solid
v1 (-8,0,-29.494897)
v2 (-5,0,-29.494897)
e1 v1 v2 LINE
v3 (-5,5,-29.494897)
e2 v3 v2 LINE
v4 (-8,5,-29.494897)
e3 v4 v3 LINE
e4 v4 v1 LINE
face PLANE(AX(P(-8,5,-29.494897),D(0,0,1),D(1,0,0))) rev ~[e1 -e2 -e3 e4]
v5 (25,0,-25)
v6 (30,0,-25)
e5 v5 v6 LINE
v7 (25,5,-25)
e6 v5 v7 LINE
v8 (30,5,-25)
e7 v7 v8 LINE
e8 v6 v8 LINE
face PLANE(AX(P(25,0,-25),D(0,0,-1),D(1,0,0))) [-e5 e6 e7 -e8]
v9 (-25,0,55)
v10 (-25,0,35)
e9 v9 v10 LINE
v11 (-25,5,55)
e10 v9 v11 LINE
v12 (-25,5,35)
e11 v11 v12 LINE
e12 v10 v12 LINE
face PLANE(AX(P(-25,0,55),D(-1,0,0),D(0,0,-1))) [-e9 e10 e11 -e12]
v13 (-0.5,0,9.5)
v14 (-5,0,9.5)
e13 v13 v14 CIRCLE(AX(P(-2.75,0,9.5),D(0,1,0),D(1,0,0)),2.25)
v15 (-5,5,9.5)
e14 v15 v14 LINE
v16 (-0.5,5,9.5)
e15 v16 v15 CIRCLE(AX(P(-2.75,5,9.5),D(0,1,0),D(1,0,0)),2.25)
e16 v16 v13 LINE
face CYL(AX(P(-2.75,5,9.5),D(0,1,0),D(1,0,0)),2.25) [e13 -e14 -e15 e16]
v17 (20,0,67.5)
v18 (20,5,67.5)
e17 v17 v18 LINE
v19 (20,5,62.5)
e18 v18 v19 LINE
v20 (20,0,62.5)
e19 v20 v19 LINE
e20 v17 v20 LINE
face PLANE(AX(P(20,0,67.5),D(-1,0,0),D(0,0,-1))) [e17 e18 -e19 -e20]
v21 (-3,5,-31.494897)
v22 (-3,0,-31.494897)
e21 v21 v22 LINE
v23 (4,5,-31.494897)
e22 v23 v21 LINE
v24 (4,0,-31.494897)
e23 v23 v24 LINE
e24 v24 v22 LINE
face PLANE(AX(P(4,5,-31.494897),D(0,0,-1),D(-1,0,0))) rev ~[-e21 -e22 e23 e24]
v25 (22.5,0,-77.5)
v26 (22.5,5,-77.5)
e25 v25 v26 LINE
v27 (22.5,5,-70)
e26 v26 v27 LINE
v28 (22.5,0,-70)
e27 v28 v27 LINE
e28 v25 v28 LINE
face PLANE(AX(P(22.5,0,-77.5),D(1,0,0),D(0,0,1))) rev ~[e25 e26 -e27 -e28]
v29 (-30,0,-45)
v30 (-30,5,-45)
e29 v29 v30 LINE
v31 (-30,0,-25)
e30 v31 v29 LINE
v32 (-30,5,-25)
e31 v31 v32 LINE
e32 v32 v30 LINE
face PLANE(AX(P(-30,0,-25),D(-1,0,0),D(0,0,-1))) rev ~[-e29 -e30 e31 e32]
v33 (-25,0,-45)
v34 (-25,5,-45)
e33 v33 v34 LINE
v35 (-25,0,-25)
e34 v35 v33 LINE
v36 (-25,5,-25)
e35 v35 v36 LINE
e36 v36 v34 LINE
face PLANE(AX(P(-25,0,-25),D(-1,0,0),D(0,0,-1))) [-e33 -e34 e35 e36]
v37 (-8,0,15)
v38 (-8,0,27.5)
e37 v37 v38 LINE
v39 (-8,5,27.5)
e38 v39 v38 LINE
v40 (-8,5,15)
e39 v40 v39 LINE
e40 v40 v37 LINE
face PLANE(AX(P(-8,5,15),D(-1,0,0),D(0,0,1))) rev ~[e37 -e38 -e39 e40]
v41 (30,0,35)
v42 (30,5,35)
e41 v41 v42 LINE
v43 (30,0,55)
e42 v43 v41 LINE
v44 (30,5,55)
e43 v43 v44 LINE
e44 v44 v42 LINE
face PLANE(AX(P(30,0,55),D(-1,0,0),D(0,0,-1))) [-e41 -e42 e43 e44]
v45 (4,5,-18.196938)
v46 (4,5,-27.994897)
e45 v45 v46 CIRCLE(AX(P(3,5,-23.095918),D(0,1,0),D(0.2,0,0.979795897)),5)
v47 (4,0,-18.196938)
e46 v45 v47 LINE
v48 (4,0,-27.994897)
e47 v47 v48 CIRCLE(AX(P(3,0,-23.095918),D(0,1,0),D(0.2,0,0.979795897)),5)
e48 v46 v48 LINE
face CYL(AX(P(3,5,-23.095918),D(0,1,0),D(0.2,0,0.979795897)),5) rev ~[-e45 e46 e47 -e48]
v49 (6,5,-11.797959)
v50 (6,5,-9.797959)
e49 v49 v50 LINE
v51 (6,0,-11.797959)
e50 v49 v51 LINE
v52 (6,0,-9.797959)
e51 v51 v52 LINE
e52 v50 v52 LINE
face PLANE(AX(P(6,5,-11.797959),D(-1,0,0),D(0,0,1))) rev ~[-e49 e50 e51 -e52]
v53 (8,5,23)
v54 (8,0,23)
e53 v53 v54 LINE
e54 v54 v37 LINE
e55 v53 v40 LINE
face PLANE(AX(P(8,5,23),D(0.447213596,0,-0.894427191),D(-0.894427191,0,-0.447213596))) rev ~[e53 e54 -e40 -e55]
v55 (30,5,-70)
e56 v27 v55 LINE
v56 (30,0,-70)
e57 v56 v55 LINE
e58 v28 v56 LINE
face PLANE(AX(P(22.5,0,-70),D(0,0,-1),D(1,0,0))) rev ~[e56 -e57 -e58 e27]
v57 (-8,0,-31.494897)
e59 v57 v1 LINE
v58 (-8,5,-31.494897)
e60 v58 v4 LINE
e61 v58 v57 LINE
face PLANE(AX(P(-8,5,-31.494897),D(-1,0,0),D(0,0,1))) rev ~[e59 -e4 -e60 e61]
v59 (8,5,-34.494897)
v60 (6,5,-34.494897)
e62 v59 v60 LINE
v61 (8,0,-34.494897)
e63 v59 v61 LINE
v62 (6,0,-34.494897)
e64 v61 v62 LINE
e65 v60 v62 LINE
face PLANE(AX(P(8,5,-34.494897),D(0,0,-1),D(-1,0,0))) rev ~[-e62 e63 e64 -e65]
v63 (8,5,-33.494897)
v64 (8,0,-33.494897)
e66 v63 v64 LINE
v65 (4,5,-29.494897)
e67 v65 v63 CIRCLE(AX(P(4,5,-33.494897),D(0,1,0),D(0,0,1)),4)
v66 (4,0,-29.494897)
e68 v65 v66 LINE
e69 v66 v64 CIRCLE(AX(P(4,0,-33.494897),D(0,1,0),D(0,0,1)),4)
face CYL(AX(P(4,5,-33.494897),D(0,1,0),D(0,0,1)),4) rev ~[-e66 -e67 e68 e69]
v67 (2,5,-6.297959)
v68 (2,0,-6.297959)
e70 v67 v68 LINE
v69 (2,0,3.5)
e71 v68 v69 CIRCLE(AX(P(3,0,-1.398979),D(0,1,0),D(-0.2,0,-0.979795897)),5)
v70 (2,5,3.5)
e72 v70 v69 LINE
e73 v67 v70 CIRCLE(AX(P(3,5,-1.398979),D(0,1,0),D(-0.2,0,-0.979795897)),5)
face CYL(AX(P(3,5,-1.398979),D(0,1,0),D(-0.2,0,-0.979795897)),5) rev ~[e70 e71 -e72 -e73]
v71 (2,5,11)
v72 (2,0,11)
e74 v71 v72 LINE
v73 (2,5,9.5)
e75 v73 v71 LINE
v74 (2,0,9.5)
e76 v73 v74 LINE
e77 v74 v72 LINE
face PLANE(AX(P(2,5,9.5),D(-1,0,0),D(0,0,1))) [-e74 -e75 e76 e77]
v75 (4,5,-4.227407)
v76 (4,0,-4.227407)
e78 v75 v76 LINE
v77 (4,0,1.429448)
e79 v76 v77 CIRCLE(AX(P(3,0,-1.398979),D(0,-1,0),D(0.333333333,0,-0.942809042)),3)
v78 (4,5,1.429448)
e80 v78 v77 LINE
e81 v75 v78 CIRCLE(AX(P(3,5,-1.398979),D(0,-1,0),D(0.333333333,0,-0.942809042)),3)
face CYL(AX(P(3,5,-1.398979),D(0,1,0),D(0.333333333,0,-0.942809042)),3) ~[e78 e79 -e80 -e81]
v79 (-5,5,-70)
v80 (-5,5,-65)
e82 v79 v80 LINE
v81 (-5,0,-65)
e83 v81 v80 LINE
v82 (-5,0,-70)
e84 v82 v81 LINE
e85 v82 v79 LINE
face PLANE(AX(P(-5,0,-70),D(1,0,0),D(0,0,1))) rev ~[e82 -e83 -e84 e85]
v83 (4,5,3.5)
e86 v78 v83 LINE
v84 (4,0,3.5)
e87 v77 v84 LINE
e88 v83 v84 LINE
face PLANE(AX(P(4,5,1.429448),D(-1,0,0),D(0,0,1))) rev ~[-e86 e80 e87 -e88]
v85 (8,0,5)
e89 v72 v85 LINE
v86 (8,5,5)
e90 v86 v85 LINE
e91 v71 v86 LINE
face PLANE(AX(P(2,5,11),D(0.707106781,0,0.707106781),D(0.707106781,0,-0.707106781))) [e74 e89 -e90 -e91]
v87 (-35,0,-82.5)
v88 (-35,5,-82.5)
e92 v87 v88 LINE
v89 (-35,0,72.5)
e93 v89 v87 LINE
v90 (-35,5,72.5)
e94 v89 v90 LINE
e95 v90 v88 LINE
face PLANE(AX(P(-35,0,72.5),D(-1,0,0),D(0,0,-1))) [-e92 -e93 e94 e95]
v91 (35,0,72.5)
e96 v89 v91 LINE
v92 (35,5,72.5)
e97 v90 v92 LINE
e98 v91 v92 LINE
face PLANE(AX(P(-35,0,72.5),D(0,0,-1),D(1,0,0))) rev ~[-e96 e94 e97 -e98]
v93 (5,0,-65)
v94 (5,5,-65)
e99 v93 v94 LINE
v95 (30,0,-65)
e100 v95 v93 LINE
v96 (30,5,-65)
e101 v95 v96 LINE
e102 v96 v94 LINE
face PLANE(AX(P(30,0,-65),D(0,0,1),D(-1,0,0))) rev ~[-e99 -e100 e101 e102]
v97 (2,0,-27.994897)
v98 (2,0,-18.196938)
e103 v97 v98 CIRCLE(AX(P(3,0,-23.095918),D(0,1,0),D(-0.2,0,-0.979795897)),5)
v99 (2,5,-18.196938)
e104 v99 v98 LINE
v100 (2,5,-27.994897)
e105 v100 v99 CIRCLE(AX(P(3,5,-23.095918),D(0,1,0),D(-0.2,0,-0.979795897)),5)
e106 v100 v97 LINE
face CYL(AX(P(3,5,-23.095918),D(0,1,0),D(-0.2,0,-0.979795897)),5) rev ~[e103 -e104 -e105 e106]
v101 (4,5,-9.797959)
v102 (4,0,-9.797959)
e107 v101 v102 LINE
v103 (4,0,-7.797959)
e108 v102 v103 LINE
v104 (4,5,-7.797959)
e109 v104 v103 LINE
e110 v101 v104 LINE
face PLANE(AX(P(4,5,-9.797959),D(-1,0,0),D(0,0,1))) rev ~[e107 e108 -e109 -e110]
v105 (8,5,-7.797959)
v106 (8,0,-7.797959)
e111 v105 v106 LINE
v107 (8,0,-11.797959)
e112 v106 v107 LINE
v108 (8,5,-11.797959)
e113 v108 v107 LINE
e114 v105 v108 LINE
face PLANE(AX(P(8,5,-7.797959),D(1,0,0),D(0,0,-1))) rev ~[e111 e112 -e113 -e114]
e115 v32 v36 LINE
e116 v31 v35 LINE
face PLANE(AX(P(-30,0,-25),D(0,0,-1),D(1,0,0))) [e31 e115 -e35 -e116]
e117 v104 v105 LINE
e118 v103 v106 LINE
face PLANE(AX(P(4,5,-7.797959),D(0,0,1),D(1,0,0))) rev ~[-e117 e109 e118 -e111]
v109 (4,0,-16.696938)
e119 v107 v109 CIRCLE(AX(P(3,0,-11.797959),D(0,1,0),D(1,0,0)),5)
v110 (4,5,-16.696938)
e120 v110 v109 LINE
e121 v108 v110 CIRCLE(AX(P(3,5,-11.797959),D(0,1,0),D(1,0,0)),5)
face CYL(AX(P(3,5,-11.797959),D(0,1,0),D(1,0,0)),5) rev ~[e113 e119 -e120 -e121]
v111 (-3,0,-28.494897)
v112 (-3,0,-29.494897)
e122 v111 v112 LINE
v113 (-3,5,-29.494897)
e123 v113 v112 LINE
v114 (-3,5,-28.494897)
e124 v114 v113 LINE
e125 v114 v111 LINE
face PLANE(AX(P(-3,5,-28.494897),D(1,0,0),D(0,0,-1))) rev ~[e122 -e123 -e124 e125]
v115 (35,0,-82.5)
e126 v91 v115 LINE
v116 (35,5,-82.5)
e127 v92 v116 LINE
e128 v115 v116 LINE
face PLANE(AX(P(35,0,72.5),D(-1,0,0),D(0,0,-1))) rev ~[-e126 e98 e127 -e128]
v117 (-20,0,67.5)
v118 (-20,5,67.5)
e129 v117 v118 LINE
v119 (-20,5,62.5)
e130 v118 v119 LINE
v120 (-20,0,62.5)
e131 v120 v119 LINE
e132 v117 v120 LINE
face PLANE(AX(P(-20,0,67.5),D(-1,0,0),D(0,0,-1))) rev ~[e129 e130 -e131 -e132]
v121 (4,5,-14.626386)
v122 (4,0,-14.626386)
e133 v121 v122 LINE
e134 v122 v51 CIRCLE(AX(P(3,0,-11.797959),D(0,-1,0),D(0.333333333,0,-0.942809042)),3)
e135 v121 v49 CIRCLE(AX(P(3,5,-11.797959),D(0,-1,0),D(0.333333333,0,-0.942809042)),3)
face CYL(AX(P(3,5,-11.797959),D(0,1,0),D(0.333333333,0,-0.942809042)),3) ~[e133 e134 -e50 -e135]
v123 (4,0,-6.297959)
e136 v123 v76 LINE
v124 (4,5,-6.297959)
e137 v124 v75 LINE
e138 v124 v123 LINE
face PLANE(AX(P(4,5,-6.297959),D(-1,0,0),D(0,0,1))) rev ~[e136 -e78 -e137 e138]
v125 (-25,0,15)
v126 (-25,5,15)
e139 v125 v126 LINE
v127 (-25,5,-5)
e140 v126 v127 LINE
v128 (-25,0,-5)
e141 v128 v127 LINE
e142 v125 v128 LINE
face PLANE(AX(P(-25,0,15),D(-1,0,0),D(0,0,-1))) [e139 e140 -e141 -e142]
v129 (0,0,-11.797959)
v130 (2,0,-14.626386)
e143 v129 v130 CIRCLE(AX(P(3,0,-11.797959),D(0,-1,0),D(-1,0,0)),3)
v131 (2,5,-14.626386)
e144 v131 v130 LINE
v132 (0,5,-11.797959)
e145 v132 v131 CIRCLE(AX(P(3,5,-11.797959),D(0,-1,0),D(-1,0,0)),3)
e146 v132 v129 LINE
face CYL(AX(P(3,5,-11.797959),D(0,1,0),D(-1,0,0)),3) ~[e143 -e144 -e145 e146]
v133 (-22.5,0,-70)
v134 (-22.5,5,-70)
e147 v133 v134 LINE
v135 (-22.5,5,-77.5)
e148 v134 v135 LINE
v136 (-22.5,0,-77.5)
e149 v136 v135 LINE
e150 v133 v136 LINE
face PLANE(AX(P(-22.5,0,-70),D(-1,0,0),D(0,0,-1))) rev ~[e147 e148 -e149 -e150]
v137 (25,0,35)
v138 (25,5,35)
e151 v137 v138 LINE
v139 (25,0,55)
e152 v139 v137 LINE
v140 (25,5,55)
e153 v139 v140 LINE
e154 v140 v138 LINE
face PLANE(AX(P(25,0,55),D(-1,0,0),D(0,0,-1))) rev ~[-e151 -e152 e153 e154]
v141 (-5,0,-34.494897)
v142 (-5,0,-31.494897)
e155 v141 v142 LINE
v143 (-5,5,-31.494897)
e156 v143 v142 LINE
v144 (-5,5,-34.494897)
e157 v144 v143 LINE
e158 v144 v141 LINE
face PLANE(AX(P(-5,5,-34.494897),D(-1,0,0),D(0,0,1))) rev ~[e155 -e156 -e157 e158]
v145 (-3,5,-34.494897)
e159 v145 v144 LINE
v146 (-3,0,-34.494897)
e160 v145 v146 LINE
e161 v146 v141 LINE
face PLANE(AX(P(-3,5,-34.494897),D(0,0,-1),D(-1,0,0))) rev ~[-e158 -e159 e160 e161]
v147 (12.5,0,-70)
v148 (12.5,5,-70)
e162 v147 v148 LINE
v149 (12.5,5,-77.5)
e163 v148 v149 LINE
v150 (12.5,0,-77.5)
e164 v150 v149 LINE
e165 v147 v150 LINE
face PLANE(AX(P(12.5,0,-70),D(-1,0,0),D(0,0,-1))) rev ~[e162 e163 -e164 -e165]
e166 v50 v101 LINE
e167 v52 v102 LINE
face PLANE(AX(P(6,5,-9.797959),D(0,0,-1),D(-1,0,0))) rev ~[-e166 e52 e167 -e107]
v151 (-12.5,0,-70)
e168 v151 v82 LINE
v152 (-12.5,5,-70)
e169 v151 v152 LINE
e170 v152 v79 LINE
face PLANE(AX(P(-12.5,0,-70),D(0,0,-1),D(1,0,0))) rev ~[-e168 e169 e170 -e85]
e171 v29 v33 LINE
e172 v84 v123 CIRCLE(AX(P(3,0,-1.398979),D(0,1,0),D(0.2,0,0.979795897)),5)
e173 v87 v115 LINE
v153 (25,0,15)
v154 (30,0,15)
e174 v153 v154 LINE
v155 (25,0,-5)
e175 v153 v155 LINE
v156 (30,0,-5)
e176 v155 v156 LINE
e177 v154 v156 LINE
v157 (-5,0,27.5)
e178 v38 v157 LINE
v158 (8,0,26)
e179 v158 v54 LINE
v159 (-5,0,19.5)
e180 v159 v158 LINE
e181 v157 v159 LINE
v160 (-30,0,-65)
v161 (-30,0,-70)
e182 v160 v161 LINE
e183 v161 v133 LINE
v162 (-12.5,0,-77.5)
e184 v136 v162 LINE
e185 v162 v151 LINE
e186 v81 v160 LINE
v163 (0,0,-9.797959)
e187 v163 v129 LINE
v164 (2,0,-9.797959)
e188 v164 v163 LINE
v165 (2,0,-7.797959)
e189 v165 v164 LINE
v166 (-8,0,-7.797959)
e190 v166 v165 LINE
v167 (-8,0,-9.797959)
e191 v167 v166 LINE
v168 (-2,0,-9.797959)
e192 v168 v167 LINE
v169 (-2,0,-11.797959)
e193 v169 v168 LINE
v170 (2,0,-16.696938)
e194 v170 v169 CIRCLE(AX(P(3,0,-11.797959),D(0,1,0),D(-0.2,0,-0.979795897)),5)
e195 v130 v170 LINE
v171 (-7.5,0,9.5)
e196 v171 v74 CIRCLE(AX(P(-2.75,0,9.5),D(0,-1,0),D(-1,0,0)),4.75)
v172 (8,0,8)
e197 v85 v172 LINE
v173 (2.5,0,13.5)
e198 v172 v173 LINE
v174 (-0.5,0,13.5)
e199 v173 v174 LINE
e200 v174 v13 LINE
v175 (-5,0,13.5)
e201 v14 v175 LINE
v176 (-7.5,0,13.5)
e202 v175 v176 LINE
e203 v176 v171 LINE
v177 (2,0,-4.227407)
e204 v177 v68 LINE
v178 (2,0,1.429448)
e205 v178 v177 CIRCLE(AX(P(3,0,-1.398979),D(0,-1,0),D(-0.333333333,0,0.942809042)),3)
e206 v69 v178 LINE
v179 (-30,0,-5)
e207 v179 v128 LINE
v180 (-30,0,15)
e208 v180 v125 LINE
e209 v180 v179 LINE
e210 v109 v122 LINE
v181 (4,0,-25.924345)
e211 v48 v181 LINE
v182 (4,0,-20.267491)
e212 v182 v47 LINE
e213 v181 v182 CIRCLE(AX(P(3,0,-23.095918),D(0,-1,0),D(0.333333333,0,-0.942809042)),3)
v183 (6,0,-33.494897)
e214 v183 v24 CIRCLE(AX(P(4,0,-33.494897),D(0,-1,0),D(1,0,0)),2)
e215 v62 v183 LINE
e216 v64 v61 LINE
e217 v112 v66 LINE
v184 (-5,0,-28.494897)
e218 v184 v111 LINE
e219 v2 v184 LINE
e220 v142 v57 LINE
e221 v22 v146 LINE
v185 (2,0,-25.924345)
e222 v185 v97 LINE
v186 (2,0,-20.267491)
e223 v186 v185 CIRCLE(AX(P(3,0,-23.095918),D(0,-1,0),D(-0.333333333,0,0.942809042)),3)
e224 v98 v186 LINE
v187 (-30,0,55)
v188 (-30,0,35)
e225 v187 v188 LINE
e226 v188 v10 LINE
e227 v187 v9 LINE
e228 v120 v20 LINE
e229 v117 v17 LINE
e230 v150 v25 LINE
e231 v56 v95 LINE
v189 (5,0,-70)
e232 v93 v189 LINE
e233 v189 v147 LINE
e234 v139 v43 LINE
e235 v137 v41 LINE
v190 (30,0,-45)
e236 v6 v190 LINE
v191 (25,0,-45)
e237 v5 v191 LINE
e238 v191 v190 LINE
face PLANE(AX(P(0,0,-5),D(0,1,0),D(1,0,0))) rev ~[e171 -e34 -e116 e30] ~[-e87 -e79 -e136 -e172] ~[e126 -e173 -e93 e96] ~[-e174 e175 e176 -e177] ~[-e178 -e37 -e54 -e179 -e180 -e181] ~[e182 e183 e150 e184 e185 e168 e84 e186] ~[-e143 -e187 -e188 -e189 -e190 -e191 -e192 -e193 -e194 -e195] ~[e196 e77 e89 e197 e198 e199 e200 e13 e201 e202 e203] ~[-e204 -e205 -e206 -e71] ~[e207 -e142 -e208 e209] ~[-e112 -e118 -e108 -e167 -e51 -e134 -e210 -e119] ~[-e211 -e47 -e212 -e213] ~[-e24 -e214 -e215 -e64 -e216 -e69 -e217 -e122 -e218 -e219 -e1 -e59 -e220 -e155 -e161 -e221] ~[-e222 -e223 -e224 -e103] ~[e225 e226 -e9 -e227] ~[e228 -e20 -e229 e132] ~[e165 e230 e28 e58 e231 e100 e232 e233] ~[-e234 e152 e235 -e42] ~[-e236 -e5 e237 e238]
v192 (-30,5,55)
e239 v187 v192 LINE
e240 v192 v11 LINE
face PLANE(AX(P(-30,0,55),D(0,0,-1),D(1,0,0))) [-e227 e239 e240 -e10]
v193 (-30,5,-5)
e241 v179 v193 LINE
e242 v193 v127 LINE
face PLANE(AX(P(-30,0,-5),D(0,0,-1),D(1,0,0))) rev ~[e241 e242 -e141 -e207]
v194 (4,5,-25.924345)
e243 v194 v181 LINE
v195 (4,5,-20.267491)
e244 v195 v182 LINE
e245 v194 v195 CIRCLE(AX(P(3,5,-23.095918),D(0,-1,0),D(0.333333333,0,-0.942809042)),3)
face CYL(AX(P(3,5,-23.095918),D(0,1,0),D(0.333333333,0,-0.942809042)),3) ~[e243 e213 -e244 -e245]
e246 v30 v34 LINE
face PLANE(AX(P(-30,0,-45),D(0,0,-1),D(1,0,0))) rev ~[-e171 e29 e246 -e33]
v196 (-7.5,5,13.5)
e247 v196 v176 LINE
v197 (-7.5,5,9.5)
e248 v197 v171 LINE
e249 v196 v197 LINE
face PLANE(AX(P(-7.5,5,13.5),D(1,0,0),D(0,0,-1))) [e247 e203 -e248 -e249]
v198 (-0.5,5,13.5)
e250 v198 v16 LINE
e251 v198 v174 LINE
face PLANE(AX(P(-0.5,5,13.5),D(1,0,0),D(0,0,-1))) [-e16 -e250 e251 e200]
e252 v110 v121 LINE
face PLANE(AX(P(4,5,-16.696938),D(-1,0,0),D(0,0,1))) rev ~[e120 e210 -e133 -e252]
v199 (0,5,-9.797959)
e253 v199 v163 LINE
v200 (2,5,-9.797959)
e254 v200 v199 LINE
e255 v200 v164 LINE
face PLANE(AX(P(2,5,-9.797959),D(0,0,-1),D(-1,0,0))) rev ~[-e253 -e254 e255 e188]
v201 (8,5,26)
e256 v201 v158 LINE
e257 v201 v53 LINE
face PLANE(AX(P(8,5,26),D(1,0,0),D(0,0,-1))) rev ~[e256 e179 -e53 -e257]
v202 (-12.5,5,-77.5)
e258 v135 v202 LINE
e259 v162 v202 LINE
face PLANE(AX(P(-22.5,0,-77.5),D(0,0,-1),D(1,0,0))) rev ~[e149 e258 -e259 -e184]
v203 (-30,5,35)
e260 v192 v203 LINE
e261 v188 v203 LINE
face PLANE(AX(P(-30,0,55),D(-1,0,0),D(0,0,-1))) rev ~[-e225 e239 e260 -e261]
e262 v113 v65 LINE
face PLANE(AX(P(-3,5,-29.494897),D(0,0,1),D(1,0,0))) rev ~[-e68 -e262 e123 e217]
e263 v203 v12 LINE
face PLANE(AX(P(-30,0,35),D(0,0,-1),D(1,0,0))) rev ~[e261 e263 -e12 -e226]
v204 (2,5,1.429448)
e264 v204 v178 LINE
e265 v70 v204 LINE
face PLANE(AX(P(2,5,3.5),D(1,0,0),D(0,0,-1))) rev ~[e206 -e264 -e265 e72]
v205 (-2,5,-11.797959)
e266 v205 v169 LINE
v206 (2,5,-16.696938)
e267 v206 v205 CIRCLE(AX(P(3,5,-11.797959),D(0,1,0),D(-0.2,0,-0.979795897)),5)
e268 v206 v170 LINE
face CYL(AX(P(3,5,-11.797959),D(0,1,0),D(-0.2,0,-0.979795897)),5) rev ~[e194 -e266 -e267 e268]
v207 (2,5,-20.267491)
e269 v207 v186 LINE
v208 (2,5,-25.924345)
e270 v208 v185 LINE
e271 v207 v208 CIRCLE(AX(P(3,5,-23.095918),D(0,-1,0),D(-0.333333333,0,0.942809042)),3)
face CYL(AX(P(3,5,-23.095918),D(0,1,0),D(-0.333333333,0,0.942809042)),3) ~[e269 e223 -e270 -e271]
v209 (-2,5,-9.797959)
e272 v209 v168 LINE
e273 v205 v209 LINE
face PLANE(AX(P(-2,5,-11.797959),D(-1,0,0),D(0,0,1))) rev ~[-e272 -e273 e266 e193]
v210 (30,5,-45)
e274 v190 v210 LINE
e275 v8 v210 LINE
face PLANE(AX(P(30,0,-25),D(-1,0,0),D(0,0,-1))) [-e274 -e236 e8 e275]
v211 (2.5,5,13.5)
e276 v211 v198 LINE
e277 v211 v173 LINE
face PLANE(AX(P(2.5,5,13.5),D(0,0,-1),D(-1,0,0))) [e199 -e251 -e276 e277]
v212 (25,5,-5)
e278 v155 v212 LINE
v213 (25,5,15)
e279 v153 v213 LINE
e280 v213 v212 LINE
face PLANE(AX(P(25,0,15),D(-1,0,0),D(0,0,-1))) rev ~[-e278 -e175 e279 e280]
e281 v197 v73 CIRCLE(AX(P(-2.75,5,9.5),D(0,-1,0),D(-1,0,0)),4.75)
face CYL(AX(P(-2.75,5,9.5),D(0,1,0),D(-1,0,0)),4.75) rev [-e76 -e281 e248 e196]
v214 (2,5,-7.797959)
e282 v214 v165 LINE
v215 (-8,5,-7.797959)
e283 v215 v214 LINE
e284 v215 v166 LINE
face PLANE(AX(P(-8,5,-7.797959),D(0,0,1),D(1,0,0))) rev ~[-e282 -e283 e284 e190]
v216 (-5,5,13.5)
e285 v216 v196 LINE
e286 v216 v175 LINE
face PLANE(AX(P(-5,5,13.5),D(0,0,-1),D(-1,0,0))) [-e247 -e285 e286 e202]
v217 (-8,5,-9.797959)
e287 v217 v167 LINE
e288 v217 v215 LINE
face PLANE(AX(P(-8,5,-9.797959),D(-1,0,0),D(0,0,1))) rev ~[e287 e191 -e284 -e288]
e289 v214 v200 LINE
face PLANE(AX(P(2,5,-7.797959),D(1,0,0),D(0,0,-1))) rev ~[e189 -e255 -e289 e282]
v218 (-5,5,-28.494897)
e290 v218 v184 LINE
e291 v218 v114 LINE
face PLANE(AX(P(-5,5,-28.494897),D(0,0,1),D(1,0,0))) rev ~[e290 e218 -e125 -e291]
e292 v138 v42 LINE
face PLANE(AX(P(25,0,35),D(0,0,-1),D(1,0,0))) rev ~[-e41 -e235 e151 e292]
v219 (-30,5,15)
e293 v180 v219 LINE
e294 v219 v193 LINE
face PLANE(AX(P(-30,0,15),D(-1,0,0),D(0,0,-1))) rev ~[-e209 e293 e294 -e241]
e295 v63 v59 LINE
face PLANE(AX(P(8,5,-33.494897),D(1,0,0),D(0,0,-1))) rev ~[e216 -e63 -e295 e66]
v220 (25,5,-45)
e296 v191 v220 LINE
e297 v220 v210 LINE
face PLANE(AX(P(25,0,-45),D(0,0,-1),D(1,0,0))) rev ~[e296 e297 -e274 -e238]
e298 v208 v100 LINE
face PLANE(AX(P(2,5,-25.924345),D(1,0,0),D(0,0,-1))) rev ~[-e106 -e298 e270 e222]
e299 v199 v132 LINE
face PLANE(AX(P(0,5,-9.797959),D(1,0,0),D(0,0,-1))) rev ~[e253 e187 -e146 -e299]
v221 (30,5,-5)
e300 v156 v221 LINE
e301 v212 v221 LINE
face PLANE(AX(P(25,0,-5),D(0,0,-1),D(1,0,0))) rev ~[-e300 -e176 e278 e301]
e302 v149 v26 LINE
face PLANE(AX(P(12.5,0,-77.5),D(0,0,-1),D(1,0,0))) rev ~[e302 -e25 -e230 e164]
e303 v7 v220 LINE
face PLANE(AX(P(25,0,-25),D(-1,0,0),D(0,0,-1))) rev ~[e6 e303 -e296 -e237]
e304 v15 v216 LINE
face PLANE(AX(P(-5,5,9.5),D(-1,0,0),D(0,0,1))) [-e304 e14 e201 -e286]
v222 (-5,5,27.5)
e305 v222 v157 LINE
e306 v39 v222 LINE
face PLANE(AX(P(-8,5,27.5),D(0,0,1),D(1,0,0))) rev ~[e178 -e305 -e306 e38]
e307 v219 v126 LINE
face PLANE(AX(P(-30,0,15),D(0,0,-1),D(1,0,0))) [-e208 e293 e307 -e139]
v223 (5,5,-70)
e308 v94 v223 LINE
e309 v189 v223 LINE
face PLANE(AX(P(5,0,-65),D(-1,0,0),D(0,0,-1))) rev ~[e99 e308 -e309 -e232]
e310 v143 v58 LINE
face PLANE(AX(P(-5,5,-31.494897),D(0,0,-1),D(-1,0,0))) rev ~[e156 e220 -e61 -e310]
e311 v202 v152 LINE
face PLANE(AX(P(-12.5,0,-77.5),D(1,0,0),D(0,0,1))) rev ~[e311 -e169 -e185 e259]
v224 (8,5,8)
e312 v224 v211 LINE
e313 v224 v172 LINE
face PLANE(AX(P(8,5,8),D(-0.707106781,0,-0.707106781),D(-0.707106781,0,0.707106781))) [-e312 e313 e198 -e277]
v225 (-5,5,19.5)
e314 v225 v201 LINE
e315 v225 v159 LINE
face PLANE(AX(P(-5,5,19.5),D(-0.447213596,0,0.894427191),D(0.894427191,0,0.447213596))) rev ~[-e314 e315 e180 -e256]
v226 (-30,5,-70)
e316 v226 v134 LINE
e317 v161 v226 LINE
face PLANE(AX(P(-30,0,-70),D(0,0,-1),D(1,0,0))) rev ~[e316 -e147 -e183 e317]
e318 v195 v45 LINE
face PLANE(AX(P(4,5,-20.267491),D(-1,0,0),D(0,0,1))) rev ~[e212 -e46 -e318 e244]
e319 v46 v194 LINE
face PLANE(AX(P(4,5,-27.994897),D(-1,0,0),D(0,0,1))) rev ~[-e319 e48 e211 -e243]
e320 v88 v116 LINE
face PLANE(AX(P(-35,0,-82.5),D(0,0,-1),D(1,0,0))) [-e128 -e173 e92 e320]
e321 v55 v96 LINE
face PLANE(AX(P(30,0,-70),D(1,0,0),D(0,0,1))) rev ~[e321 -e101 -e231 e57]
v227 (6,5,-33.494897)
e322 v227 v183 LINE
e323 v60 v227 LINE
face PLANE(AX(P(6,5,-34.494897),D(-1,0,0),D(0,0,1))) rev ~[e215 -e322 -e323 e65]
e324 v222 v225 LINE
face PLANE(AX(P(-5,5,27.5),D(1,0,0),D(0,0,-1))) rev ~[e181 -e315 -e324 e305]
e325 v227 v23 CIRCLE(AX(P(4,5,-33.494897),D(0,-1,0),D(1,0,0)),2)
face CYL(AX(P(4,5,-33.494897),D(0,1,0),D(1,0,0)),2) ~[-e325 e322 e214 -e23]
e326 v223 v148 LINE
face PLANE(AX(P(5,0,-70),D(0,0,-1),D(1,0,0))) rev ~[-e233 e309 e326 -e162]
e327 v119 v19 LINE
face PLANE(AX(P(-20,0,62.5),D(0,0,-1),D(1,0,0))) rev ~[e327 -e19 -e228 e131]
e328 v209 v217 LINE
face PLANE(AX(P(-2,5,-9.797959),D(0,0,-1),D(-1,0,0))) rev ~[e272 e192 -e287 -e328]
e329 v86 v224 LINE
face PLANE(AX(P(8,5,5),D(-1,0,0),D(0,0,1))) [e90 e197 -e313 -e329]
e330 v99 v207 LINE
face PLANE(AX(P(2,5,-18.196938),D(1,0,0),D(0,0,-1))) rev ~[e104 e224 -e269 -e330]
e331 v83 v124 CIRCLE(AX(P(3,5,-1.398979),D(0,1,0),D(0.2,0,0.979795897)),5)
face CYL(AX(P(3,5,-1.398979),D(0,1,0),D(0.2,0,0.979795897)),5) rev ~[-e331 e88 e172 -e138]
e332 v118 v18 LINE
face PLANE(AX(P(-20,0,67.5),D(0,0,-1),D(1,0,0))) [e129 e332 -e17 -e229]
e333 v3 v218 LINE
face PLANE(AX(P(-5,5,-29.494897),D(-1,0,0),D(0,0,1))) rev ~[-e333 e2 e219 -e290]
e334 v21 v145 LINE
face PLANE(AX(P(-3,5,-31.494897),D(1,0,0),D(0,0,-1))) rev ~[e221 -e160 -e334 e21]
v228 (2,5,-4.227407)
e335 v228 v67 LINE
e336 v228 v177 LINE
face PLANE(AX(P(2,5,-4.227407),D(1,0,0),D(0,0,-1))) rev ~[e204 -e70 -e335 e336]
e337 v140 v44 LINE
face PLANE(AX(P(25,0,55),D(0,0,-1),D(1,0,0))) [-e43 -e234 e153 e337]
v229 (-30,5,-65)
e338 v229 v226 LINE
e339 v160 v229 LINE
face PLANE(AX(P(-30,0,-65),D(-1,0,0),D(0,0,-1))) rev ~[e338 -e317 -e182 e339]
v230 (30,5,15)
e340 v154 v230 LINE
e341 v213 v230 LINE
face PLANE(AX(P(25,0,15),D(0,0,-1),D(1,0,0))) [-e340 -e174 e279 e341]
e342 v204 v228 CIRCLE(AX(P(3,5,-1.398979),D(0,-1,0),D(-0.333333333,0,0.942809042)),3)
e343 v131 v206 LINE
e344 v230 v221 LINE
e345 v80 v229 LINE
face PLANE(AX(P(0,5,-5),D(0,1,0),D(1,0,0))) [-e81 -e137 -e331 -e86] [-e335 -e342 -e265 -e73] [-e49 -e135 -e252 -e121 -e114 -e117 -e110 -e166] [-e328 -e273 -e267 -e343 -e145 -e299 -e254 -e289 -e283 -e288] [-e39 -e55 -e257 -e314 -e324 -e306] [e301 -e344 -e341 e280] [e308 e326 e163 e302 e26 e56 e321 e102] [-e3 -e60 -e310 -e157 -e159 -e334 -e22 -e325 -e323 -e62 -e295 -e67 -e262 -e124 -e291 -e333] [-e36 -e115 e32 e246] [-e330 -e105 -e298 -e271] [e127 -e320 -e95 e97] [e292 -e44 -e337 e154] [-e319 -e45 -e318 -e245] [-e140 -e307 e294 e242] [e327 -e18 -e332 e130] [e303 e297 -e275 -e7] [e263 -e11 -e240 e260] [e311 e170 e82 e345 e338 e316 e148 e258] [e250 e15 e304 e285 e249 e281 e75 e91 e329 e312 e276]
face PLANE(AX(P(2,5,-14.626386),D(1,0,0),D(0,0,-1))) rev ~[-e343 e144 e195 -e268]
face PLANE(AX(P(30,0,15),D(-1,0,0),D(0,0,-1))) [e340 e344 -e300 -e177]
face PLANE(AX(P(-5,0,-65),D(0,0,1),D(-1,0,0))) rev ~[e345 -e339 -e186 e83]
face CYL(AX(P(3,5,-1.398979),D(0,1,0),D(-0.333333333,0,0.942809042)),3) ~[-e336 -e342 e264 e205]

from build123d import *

# Parameters (mm, degrees)
ESQUISSE1_W             = 70
ESQUISSE1_H             = 155
ESQUISSE1_W_2           = 5
ESQUISSE1_H_2           = 20
ESQUISSE1_W_3           = 40
ESQUISSE1_H_3           = 5
BOSS_EXTRU_1_DEPTH      = 5
ENL_V_MAT_EXTRU_1_DEPTH = 5


with BuildPart() as part:
    # Esquisse1 → Boss.-Extru.1 (new body)
    with BuildSketch(Plane(origin=(0, 0, 0), x_dir=(1, 0, 0), z_dir=(0, 1, 0))):
        with Locations((0, 5)):
            Rectangle(ESQUISSE1_W, ESQUISSE1_H)
        Polygon((-22.5, 77.5), (-12.5, 77.5), (-12.5, 70), (-5, 70), (-5, 65), (-30, 65), (-30, 70), (-22.5, 70), align=None, mode=Mode.SUBTRACT)
        with Locations((27.5, 35)):
            Rectangle(ESQUISSE1_W_2, ESQUISSE1_H_2, mode=Mode.SUBTRACT)
        with Locations((-27.5, 35)):
            Rectangle(ESQUISSE1_W_2, ESQUISSE1_H_2, mode=Mode.SUBTRACT)
        Polygon((12.5, 77.5), (22.5, 77.5), (22.5, 70), (30, 70), (30, 65), (5, 65), (5, 70), (12.5, 70), align=None, mode=Mode.SUBTRACT)
        with Locations((-27.5, -5)):
            Rectangle(ESQUISSE1_W_2, ESQUISSE1_H_2, mode=Mode.SUBTRACT)
        with Locations((-27.5, -45)):
            Rectangle(ESQUISSE1_W_2, ESQUISSE1_H_2, mode=Mode.SUBTRACT)
        with Locations((27.5, -5)):
            Rectangle(ESQUISSE1_W_2, ESQUISSE1_H_2, mode=Mode.SUBTRACT)
        with Locations((27.5, -45)):
            Rectangle(ESQUISSE1_W_2, ESQUISSE1_H_2, mode=Mode.SUBTRACT)
        with Locations((0, -65)):
            Rectangle(ESQUISSE1_W_3, ESQUISSE1_H_3, mode=Mode.SUBTRACT)
    extrude(amount=BOSS_EXTRU_1_DEPTH)

    # Esquisse2 → Enlèv. mat.-Extru.1 (cut)
    with BuildSketch(Plane(origin=(0, 5, 0), x_dir=(1, 0, 0), z_dir=(0, 1, 0))):
        Polygon((-8, -27.5), (-5, -27.5), (-5, -19.5), (8, -26), (8, -23), (-8, -15), align=None)
        with BuildLine():
            Line((8, -5), (8, -8))
            Line((8, -8), (2.5, -13.5))
            Line((2.5, -13.5), (-0.5, -13.5))
            Line((-0.5, -13.5), (-0.5, -9.5))
            ThreePointArc((-0.5, -9.5), (-2.75, -7.25), (-5, -9.5))
            Line((-5, -9.5), (-5, -13.5))
            Line((-5, -13.5), (-7.5, -13.5))
            Line((-7.5, -13.5), (-7.5, -9.5))
            ThreePointArc((-7.5, -9.5), (-2.75, -4.75), (2, -9.5))
            Line((2, -9.5), (2, -11))
            Line((2, -11), (8, -5))
        make_face()
        with BuildLine():
            Line((2, -3.5), (2, -1.429447639))
            ThreePointArc((2, -1.429447639), (0, 1.398979486), (2, 4.22740661))
            Line((2, 4.22740661), (2, 6.297958971))
            ThreePointArc((2, 6.297958971), (-2, 1.398979486), (2, -3.5))
        make_face()
        with BuildLine():
            Line((4, 6.297958971), (4, 4.22740661))
            ThreePointArc((4, 4.22740661), (6, 1.398979486), (4, -1.429447639))
            Line((4, -1.429447639), (4, -3.5))
            ThreePointArc((4, -3.5), (8, 1.398979486), (4, 6.297958971))
        make_face()
        with BuildLine():
            Line((-8, 7.797958971), (2, 7.797958971))
            Line((2, 7.797958971), (2, 9.797958971))
            Line((2, 9.797958971), (0, 9.797958971))
            Line((0, 9.797958971), (0, 11.797958971))
            ThreePointArc((0, 11.797958971), (0.550510257, 13.530009779), (2, 14.626386096))
            Line((2, 14.626386096), (2, 16.696938457))
            ThreePointArc((2, 16.696938457), (-0.872983346, 14.960236631), (-2, 11.797958971))
            Line((-2, 11.797958971), (-2, 9.797958971))
            Line((-2, 9.797958971), (-8, 9.797958971))
            Line((-8, 9.797958971), (-8, 7.797958971))
        make_face()
        with BuildLine():
            Line((4, 7.797958971), (8, 7.797958971))
            Line((8, 7.797958971), (8, 11.797958971))
            ThreePointArc((8, 11.797958971), (6.872983346, 14.960236631), (4, 16.696938457))
            Line((4, 16.696938457), (4, 14.626386096))
            ThreePointArc((4, 14.626386096), (5.449489743, 13.530009779), (6, 11.797958971))
            Line((6, 11.797958971), (6, 9.797958971))
            Line((6, 9.797958971), (4, 9.797958971))
            Line((4, 9.797958971), (4, 7.797958971))
        make_face()
        with BuildLine():
            Line((2, 18.196938457), (2, 20.267490818))
            ThreePointArc((2, 20.267490818), (0, 23.095917942), (2, 25.924345067))
            Line((2, 25.924345067), (2, 27.994897428))
            ThreePointArc((2, 27.994897428), (-2, 23.095917942), (2, 18.196938457))
        make_face()
        with BuildLine():
            Line((4, 27.994897428), (4, 25.924345067))
            ThreePointArc((4, 25.924345067), (6, 23.095917942), (4, 20.267490818))
            Line((4, 20.267490818), (4, 18.196938457))
            ThreePointArc((4, 18.196938457), (8, 23.095917942), (4, 27.994897428))
        make_face()
        with BuildLine():
            Line((-8, 29.494897428), (-5, 29.494897428))
            Line((-5, 29.494897428), (-5, 28.494897428))
            Line((-5, 28.494897428), (-3, 28.494897428))
            Line((-3, 28.494897428), (-3, 29.494897428))
            Line((-3, 29.494897428), (4, 29.494897428))
            ThreePointArc((4, 29.494897428), (6.828427125, 30.666470303), (8, 33.494897428))
            Line((8, 33.494897428), (8, 34.494897428))
            Line((8, 34.494897428), (6, 34.494897428))
            Line((6, 34.494897428), (6, 33.494897428))
            ThreePointArc((6, 33.494897428), (5.414213562, 32.080683865), (4, 31.494897428))
            Line((4, 31.494897428), (-3, 31.494897428))
            Line((-3, 31.494897428), (-3, 34.494897428))
            Line((-3, 34.494897428), (-5, 34.494897428))
            Line((-5, 34.494897428), (-5, 31.494897428))
            Line((-5, 31.494897428), (-8, 31.494897428))
            Line((-8, 31.494897428), (-8, 29.494897428))
        make_face()
    extrude(amount=-ENL_V_MAT_EXTRU_1_DEPTH, mode=Mode.SUBTRACT)


solid = part.part
